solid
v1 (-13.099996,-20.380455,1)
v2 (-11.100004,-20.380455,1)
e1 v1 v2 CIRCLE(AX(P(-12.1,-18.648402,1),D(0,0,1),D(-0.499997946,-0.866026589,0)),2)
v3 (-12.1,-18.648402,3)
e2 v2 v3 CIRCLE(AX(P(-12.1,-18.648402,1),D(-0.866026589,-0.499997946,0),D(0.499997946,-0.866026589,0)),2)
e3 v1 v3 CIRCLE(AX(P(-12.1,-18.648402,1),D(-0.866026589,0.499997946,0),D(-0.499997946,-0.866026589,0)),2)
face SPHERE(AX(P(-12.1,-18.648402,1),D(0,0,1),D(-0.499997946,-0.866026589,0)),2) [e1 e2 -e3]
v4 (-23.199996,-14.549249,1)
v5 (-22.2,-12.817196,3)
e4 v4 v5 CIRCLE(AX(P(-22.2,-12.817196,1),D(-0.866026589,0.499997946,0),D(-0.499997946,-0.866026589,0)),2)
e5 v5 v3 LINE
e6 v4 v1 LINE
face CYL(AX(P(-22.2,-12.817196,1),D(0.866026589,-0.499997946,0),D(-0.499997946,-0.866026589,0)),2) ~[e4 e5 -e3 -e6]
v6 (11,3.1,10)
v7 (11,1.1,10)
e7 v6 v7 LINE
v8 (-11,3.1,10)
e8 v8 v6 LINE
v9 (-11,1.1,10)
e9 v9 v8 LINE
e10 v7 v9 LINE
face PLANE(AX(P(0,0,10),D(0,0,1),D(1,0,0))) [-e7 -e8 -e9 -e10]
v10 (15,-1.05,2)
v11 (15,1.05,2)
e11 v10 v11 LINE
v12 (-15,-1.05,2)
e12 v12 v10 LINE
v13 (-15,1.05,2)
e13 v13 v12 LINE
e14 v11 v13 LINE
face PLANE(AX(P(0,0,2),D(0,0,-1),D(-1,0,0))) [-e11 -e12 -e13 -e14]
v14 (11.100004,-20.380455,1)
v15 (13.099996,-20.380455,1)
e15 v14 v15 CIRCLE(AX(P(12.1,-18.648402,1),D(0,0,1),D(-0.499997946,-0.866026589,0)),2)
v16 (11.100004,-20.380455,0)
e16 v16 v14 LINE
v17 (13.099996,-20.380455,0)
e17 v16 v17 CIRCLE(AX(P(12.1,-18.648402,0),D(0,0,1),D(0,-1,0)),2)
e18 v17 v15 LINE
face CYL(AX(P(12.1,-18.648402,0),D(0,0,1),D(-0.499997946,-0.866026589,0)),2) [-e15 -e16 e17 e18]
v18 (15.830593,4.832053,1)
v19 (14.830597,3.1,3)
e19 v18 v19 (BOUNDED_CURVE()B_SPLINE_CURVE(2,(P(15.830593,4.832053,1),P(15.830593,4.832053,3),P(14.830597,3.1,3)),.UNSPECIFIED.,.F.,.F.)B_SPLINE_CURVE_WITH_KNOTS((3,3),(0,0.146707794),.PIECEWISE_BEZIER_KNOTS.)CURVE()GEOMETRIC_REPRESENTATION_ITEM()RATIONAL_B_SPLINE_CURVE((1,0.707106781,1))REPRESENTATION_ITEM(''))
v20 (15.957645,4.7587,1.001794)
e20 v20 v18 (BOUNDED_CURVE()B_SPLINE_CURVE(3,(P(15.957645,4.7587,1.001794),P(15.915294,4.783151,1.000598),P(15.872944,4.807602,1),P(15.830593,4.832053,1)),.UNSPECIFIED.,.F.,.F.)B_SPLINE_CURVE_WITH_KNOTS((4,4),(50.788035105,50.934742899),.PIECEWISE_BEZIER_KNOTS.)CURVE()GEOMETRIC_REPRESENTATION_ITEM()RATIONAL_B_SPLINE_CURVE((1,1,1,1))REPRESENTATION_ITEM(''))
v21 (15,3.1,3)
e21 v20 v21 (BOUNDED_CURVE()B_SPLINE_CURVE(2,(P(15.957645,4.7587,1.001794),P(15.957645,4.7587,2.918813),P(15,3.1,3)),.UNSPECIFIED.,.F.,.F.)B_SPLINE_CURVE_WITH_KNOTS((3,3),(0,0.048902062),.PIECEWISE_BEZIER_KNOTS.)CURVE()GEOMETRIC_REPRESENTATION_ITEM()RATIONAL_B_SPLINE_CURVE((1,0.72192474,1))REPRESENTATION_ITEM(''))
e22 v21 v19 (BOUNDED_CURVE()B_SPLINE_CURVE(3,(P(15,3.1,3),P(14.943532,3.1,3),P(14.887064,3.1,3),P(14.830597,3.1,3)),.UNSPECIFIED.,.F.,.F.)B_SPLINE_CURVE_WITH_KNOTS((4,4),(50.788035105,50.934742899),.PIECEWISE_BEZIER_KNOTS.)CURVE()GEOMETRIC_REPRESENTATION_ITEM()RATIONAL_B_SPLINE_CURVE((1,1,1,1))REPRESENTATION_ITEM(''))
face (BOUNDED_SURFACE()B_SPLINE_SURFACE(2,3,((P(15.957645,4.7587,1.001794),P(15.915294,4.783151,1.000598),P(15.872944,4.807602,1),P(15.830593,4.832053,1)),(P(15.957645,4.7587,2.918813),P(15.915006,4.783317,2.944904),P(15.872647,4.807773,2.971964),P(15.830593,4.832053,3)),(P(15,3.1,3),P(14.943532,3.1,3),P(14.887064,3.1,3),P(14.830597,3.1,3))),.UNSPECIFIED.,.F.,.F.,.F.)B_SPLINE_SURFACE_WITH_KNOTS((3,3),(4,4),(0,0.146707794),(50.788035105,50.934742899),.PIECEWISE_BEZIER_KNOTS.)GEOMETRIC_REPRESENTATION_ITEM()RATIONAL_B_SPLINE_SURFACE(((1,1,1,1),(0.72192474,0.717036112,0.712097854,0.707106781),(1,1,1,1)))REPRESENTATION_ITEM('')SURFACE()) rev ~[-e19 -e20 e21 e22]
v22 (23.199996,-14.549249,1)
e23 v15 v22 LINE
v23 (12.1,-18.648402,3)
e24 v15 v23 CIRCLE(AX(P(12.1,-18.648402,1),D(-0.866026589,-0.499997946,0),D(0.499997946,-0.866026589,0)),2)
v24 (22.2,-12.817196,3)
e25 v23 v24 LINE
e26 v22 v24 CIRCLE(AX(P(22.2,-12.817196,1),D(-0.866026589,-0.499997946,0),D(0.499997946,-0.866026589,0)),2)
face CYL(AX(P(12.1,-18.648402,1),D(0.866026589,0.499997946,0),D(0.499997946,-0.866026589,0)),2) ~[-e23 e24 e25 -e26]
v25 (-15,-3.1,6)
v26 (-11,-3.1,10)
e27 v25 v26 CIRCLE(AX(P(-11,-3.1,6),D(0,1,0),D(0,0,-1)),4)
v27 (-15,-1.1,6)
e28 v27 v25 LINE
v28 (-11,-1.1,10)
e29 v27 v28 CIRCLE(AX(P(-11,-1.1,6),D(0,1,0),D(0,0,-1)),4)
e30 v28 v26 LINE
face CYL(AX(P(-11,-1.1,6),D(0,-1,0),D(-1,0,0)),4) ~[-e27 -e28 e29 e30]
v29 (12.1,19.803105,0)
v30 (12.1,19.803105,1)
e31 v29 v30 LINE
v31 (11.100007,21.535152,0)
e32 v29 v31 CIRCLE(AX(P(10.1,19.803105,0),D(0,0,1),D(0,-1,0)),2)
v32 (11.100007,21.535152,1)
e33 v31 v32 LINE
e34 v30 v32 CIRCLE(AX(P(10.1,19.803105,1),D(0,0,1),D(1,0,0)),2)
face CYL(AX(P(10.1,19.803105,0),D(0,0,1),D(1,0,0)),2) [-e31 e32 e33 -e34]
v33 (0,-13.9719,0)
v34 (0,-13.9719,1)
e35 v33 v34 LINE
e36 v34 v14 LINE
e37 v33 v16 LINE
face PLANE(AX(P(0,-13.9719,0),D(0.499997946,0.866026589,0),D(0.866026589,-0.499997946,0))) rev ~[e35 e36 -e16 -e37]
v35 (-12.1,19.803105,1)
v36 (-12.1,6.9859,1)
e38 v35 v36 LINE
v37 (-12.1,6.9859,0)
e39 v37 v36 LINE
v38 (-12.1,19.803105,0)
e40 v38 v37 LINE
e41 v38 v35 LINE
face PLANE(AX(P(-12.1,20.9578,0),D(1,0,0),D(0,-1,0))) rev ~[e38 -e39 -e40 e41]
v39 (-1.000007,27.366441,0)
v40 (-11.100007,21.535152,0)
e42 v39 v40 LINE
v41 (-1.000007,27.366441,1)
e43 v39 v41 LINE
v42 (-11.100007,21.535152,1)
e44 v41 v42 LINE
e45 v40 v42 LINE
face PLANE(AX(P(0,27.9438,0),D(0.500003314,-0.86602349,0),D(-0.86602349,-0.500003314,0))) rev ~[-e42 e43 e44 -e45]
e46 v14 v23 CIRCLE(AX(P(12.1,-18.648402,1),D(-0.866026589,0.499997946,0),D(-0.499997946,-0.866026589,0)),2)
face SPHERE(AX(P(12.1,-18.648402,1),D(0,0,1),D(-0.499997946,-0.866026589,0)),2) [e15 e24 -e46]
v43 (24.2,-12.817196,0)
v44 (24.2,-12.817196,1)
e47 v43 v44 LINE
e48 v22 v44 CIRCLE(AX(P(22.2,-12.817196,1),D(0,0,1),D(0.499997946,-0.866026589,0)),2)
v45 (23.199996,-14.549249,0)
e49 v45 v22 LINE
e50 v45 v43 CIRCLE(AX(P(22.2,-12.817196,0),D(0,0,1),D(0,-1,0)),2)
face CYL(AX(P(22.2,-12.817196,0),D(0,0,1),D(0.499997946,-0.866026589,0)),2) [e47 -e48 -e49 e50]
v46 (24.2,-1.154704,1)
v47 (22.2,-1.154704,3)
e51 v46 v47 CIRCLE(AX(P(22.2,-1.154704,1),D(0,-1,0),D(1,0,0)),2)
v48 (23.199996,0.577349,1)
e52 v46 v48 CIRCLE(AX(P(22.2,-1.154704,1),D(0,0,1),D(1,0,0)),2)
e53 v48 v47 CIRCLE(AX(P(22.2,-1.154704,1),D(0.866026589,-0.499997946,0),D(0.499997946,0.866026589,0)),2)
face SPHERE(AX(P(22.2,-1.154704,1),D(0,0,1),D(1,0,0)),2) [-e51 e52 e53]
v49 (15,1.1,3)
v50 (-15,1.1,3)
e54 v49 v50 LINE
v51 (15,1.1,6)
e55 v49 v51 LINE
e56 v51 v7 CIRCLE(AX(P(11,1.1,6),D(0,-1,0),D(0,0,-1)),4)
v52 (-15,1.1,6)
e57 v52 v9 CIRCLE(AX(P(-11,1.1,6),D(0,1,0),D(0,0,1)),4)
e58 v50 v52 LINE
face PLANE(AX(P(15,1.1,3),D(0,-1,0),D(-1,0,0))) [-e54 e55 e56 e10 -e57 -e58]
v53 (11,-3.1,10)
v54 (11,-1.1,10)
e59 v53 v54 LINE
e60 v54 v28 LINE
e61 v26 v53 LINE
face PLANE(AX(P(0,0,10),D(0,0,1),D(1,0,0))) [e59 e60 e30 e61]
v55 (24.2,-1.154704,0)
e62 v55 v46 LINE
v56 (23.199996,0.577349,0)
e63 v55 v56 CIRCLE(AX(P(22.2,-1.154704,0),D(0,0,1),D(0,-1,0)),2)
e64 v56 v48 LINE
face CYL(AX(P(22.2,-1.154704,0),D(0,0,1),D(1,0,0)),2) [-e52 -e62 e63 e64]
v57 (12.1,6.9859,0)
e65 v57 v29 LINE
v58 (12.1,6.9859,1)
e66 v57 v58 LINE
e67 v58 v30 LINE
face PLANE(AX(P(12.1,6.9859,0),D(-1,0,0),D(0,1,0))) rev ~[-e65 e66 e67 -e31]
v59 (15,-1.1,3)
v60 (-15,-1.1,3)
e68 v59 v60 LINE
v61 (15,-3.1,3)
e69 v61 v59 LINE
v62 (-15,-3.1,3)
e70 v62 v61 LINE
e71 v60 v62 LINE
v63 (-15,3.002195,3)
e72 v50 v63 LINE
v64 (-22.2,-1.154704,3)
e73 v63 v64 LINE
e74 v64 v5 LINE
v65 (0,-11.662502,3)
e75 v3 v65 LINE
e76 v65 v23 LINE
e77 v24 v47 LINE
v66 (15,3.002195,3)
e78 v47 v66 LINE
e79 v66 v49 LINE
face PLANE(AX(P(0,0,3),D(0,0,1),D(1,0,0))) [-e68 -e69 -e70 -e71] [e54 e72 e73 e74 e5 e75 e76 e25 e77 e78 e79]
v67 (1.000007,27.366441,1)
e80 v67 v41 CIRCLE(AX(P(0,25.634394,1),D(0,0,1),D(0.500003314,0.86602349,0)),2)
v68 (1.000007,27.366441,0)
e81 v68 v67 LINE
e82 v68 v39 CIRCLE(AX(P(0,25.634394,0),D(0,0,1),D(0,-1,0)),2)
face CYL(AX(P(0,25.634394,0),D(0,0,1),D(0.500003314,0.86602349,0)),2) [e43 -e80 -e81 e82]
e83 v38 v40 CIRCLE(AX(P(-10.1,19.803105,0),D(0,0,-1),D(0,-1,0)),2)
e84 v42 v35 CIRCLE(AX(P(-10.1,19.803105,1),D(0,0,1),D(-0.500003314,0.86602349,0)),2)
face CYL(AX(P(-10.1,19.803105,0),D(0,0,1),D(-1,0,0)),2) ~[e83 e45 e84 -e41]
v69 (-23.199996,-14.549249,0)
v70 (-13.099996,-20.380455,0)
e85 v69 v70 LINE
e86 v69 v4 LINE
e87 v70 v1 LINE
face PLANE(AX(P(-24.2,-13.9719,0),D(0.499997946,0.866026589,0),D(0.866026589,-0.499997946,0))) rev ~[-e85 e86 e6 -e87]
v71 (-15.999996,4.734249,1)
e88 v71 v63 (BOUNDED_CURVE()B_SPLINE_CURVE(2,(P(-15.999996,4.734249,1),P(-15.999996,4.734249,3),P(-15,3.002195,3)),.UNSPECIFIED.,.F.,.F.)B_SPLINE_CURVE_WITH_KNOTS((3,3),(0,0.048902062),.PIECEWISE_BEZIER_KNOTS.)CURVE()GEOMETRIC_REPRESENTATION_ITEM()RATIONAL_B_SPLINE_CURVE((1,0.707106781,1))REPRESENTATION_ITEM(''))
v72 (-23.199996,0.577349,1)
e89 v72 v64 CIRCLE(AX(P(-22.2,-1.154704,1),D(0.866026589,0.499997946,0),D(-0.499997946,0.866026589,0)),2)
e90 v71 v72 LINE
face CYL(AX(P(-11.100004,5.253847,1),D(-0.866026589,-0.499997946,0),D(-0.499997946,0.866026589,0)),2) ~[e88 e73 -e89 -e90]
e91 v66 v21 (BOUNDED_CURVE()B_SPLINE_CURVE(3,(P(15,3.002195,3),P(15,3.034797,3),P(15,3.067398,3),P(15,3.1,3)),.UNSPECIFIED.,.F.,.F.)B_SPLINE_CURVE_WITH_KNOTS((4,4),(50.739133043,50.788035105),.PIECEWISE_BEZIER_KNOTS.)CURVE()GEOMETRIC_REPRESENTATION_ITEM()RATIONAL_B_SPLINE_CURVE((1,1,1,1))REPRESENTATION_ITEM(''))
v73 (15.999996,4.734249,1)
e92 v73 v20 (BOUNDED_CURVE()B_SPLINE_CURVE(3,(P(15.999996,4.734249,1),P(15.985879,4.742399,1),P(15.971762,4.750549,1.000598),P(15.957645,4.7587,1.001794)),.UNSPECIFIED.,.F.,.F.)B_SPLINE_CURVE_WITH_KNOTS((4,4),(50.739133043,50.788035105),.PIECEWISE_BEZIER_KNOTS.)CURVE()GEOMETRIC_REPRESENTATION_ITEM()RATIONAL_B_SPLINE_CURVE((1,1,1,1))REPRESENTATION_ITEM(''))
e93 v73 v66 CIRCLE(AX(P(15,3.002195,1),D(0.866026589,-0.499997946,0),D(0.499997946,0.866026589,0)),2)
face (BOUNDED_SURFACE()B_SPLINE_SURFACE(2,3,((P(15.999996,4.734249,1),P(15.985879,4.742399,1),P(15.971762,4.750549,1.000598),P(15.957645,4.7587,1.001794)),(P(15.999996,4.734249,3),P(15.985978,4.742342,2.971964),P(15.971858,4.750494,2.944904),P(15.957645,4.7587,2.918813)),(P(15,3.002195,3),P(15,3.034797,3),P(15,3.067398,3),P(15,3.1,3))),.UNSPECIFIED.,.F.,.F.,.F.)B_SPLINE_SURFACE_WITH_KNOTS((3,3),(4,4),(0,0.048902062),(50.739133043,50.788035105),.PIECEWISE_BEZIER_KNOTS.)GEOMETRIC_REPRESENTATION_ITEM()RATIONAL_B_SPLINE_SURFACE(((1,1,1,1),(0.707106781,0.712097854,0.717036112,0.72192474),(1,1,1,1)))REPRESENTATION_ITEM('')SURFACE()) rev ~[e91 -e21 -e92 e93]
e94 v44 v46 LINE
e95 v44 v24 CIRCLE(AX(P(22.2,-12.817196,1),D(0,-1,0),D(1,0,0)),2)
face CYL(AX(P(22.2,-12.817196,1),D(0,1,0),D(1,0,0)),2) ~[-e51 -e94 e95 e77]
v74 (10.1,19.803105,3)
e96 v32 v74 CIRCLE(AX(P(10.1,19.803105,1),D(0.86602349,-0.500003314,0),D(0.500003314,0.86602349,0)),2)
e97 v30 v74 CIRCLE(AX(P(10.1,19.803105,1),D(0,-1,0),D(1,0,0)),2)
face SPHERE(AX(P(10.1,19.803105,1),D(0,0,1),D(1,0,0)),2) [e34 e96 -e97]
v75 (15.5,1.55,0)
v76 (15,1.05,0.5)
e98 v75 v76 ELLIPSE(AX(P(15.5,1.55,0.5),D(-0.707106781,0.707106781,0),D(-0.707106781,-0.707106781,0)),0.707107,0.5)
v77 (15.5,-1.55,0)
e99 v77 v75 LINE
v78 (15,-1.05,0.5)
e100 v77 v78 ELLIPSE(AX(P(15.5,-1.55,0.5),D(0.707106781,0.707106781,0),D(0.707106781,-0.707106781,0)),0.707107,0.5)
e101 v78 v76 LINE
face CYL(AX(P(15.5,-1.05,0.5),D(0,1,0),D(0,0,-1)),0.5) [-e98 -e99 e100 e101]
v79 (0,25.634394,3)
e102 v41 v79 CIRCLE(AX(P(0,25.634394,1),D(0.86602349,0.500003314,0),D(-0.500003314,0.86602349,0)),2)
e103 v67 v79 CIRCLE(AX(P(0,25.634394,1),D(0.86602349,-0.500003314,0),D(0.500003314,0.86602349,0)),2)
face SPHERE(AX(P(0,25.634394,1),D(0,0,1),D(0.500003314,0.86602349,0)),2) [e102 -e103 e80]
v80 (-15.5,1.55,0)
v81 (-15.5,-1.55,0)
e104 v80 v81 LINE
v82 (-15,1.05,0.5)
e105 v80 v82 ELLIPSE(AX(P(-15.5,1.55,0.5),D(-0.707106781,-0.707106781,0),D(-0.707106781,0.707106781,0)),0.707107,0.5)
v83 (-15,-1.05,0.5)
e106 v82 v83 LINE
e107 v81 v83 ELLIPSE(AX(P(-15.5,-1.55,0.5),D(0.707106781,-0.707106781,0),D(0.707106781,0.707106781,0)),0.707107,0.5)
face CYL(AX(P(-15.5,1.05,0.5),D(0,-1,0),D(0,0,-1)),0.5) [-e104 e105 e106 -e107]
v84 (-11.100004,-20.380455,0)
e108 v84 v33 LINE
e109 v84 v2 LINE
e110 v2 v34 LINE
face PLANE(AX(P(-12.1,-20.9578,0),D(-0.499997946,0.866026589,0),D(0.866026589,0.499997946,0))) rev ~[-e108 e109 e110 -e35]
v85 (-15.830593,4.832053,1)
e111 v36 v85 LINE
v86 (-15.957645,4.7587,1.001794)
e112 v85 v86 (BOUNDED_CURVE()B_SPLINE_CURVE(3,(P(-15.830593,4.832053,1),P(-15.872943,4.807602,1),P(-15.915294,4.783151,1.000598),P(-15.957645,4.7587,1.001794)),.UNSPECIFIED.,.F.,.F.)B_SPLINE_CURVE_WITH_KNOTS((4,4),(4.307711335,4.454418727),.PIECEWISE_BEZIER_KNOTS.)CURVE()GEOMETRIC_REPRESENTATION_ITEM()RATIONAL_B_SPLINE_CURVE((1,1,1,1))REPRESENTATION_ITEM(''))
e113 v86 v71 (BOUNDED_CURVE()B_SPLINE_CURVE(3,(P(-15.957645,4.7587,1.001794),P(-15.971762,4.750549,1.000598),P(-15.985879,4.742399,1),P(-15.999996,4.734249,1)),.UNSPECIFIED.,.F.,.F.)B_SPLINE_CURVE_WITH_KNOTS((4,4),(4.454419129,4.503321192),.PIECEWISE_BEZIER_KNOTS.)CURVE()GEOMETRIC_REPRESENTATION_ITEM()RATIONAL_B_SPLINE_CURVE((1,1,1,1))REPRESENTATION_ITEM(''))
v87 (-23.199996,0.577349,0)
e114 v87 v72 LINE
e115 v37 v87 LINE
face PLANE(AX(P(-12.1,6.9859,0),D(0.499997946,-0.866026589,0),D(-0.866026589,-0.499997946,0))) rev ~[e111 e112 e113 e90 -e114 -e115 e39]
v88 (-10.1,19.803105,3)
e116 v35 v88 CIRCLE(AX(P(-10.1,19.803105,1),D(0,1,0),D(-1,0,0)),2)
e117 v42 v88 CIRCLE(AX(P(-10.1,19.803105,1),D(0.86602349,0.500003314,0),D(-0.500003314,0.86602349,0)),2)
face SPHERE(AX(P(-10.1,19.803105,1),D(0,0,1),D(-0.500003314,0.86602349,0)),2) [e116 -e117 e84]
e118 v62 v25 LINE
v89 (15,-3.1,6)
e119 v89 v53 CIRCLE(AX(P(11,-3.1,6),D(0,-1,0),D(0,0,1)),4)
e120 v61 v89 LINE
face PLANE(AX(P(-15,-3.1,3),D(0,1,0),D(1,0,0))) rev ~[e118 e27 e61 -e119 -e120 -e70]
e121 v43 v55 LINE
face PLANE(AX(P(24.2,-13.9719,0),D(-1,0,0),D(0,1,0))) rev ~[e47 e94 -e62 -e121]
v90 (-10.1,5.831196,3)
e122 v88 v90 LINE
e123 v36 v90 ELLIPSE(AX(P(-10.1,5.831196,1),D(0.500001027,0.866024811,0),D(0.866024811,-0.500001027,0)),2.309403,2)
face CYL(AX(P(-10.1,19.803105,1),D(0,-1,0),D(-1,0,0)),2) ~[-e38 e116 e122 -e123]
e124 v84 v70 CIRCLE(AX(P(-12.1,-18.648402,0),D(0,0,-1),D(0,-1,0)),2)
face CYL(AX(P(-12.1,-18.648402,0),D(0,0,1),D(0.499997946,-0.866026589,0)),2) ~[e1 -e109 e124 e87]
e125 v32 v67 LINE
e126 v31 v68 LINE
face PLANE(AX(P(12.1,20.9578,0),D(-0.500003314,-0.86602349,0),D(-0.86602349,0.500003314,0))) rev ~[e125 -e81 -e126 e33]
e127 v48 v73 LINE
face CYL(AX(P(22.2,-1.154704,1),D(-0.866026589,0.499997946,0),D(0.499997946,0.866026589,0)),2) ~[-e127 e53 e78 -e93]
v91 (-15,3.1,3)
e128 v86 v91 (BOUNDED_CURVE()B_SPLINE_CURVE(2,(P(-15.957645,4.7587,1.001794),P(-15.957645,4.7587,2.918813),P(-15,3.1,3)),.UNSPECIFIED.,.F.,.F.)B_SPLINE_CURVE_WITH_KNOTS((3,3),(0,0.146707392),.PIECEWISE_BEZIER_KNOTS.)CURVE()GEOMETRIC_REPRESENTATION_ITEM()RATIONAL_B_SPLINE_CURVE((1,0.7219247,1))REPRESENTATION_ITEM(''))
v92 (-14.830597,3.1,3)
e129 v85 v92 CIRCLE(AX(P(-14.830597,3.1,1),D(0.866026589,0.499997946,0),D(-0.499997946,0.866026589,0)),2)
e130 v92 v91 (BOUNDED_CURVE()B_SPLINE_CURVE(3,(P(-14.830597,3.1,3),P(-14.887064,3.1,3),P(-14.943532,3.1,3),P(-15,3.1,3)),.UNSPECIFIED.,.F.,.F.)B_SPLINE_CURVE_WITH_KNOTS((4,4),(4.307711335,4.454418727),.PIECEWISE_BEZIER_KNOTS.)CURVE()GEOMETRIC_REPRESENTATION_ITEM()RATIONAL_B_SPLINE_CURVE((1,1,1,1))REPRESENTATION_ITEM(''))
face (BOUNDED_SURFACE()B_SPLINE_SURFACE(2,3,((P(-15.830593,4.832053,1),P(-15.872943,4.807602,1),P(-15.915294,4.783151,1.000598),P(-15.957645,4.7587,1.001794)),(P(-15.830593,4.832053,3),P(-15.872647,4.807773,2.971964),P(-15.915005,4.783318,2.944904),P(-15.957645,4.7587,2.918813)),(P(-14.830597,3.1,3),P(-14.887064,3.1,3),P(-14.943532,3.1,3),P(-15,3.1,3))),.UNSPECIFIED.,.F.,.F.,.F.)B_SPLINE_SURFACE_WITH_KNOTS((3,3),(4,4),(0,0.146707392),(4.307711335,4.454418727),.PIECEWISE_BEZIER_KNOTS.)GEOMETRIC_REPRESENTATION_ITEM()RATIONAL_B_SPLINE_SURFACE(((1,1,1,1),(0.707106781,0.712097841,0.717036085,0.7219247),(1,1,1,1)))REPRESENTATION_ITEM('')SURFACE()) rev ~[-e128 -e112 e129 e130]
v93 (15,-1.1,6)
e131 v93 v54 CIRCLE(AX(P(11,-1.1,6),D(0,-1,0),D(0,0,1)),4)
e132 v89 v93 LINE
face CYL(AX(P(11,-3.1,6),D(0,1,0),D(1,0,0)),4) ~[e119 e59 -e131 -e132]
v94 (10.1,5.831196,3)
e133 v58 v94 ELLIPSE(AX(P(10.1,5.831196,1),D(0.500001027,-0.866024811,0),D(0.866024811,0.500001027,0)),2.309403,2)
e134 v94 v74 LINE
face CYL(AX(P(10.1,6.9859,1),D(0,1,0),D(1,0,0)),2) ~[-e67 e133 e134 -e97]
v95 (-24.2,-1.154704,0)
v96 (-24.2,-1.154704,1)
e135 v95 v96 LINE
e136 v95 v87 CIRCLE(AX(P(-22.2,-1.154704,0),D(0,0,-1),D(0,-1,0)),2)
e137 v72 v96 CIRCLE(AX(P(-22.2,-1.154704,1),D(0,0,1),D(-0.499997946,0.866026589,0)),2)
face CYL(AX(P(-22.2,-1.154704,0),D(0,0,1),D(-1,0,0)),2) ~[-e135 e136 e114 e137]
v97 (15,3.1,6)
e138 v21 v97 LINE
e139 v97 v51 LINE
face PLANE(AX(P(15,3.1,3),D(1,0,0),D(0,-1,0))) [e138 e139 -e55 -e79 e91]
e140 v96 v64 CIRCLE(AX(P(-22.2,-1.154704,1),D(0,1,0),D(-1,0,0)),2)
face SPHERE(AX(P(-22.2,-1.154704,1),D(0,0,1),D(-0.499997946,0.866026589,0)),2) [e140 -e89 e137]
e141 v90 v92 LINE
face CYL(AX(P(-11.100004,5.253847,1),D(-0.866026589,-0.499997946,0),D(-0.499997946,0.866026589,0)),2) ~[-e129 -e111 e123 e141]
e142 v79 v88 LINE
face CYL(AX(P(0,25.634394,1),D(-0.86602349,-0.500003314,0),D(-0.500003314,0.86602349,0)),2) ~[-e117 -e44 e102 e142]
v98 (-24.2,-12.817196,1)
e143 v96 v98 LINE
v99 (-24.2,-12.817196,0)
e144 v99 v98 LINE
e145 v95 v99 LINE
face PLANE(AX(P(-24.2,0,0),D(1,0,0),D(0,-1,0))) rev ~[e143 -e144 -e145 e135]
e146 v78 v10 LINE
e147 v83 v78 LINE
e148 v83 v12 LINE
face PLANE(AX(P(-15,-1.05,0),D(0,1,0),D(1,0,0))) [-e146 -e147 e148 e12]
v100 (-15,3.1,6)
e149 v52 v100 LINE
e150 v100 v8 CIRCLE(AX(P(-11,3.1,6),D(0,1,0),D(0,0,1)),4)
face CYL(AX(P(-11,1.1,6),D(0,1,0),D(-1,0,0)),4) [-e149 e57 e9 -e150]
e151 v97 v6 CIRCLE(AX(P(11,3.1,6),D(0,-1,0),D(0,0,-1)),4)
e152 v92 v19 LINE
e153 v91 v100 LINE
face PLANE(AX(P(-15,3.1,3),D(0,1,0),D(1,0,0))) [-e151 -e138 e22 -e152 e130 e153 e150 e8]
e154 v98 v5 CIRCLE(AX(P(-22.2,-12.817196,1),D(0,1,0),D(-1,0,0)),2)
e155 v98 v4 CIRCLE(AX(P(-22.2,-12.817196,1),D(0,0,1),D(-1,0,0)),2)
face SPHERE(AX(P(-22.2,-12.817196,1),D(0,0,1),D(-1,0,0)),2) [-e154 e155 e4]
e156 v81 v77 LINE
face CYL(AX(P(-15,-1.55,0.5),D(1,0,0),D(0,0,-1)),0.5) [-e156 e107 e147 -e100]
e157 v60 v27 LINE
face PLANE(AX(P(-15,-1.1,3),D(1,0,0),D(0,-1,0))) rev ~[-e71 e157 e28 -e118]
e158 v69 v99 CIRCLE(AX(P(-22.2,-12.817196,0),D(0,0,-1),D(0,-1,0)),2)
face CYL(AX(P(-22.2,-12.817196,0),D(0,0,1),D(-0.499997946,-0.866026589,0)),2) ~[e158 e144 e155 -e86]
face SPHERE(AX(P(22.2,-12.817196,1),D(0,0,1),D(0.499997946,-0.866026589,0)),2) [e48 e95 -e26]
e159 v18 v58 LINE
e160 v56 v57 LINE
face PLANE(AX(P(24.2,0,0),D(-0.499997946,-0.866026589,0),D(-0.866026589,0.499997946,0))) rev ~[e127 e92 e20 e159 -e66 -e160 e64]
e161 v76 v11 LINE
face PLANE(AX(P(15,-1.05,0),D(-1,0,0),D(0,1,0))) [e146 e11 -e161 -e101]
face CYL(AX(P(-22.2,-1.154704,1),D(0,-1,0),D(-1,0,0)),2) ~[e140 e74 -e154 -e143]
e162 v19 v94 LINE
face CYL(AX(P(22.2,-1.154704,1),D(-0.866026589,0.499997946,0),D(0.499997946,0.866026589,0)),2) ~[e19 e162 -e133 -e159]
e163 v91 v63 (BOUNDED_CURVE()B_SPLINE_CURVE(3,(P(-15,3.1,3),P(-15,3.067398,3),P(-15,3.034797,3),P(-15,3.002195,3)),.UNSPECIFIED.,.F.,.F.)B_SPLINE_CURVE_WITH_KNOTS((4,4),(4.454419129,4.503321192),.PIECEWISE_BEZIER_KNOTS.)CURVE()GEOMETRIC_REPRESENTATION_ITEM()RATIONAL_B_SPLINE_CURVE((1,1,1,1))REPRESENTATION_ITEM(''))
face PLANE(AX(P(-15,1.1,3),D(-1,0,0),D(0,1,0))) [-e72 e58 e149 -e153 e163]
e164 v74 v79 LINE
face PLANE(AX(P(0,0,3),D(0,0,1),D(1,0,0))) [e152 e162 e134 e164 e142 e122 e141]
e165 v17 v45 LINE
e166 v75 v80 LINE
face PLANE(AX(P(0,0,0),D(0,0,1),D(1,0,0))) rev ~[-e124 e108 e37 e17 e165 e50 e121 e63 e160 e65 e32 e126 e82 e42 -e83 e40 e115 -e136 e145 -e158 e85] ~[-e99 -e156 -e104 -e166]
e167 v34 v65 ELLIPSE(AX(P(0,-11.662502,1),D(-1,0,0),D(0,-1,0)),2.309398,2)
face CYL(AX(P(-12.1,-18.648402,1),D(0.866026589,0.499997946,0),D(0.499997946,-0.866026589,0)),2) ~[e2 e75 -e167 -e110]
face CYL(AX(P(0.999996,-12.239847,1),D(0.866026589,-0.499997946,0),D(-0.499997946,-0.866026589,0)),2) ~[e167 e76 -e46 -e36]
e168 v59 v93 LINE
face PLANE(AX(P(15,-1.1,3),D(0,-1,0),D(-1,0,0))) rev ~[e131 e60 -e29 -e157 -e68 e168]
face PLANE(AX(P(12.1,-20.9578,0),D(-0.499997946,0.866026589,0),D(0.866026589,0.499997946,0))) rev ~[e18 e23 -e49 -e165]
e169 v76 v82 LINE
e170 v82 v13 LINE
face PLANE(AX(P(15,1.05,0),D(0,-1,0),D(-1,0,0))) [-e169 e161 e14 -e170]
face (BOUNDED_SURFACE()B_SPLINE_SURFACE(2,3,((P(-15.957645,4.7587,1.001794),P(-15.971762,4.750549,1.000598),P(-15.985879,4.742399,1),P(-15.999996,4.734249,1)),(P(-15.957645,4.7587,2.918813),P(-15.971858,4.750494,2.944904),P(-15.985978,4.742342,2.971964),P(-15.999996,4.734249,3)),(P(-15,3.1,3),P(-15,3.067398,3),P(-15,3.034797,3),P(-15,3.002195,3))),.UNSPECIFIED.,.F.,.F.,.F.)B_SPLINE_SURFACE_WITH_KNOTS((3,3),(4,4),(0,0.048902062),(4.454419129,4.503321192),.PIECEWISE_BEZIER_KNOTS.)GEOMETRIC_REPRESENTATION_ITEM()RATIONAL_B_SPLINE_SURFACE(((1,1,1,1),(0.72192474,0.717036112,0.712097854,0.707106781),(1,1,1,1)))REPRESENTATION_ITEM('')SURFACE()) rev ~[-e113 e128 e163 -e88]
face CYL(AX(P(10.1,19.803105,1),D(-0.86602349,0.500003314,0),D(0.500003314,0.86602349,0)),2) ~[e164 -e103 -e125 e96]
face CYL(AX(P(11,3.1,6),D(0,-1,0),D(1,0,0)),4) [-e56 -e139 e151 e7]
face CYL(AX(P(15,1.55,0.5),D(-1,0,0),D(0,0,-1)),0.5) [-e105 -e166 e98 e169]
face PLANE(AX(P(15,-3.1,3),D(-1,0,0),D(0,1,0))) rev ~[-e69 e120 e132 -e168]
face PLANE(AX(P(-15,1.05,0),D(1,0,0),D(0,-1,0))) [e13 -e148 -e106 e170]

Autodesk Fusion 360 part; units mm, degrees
sketch "Sketch1" plane through (0, 0, 0) normal (0, 0, 1) x (1, 0, 0)
  line L0 (0, 0) -> (-12.1, 6.9859) construction
  line L1 (0, 0) -> (0, -13.9719) construction
  line L2 (0, 0) -> (12.1, 6.9859) construction
  line L3 (12.1, -20.9578) -> (24.2, -13.9719)
  line L4 (24.2, -13.9719) -> (24.2, 0)
  line L5 (24.2, 0) -> (12.1, 6.9859)
  line L6 (12.1, 6.9859) -> (0, 0)
  line L7 (0, 0) -> (0, -13.9719)
  line L8 (0, -13.9719) -> (12.1, -20.9578)
  line L9 (12.1, 6.9859) -> (12.1, 20.9578)
  line L10 (12.1, 20.9578) -> (0, 27.9438)
  line L11 (0, 27.9438) -> (-12.1, 20.9578)
  line L12 (-12.1, 20.9578) -> (-12.1, 6.9859)
  line L13 (-12.1, 6.9859) -> (0, 0)
  line L14 (0, 0) -> (12.1, 6.9859) construction
  line L15 (0, -13.9719) -> (0, 0) construction
  line L16 (0, 0) -> (-12.1, 6.9859)
  line L17 (-12.1, 6.9859) -> (-24.2, 0)
  line L18 (-24.2, 0) -> (-24.2, -13.9719)
  line L19 (-24.2, -13.9719) -> (-12.1, -20.9578)
  line L20 (-12.1, -20.9578) -> (0, -13.9719)
  point P0 (12.1, -6.9859)
  point P1 (0, 13.9719)
  point P2 (-12.1, -6.9859)
  dimension "d3" = 120
  dimension "d4" = 120
  dimension "d5" = 12.1
  dimension "d6" = 12.1
  dimension "d7" = 12.1
extrude "Extrude1" add sketch "Sketch1" along normal blind 3
sketch "Sketch2" plane through (0, 0, 3) normal (0, 0, 1) x (1, 0, 0)
  line L0 (-12.1, -20.9578) -> (0, -13.9719)
  line L1 (0, -13.9719) -> (12.1, -20.9578)
  line L2 (12.1, -20.9578) -> (24.2, -13.9719)
  line L3 (24.2, -13.9719) -> (24.2, 0)
  line L4 (24.2, 0) -> (12.1, 6.9859)
  line L5 (12.1, 6.9859) -> (12.1, 20.9578)
  line L6 (12.1, 20.9578) -> (0, 27.9438)
  line L7 (0, 27.9438) -> (-12.1, 20.9578)
  line L8 (-12.1, 20.9578) -> (-12.1, 6.9859)
  line L9 (-12.1, 6.9859) -> (-24.2, 0)
  line L10 (-24.2, 0) -> (-24.2, -13.9719)
  line L11 (-24.2, -13.9719) -> (-12.1, -20.9578)
  line L12 (15, 1.1) -> (-15, 1.1)
  line L13 (-15, 1.1) -> (-15, 3.1)
  line L14 (-15, 3.1) -> (15, 3.1)
  line L15 (15, 3.1) -> (15, 1.1)
  line L16 (15, -1.1) -> (-15, -1.1)
  line L17 (-15, -1.1) -> (-15, -3.1)
  line L18 (-15, -3.1) -> (15, -3.1)
  line L19 (15, -3.1) -> (15, -1.1)
  line L20 (24.2, -13.9719) -> (-12.1, 6.9859) construction
  line L21 (-24.2, -13.9719) -> (12.1, 6.9859) construction
  line L22 (0, 27.9438) -> (0, -13.9719) construction
  line L23 (24.2, -13.9719) -> (24.2, 0)
  line L24 (24.2, 0) -> (-24.2, 0) construction
  dimension "d10" = 30
  dimension "d11" = 2
  dimension "d16" = 2.2
extrude "Extrude2" add sketch "Sketch2" along normal blind 7 contours L12 L13 L14 L15 | L16 L17 L18 L19
sketch "Sketch3" plane through (0, 0, 0) normal (0, 0, -1) x (-1, 0, 0)
  line L0 (0, -13.9719) -> (12.1, -20.9578)
  line L1 (12.1, -20.9578) -> (24.2, -13.9719)
  line L2 (24.2, -13.9719) -> (24.2, 0)
  line L3 (24.2, 0) -> (12.1, 6.9859)
  line L4 (12.1, 6.9859) -> (12.1, 20.9578)
  line L5 (12.1, 20.9578) -> (0, 27.9438)
  line L6 (0, 27.9438) -> (-12.1, 20.9578)
  line L7 (-12.1, 20.9578) -> (-12.1, 6.9859)
  line L8 (-12.1, 6.9859) -> (-24.2, 0)
  line L9 (-24.2, 0) -> (-24.2, -13.9719)
  line L10 (-24.2, -13.9719) -> (-12.1, -20.9578)
  line L11 (-12.1, -20.9578) -> (0, -13.9719)
  line L12 (-15, 1.05) -> (15, 1.05)
  line L13 (15, 1.05) -> (15, -1.05)
  line L14 (15, -1.05) -> (-15, -1.05)
  line L15 (-15, -1.05) -> (-15, 1.05)
  line L16 (-15, 0) -> (15, 0) construction
  line L17 (0, -1.05) -> (0, 1.05) construction
  dimension "d19" = 30
  dimension "d20" = 2.1
extrude "Extrude3" cut sketch "Sketch3" against normal blind 2 contours L12 L13 L14 L15
fillet "Fillet1" radius 4 4 edges at (15, 2.1, 10) (15, -2.1, 10) (-15, 2.1, 10) (-15, -2.1, 10)
fillet "Fillet2" radius 2 9 edges at (-12.1, -20.9578, 1.5) (12.1, -20.9578, 1.5) (24.2, -13.9719, 1.5) (24.2, 0, 1.5) (12.1, 20.9578, 1.5) (0, 27.9438, 1.5) (-12.1, 20.9578, 1.5) (-24.2, 0, 1.5) (-24.2, -13.9719, 1.5)
fillet "Fillet3" radius 0.5 4 edges at (0, -1.05, 0) (0, 1.05, 0) (-15, 0, 0) (15, 0, 0)
fillet "Fillet5" radius 2 21 edges at (12.1, 13.3945, 3) (11.8321, 20.8031, 3) (6.05, 24.4508, 3) (0, 27.6344, 3) (-6.05, 24.4508, 3) (-11.8321, 20.8031, 3) (-12.1, 13.3945, 3) (5.55, -17.1762, 3) (12.1, -20.6484, 3) (18.15, -17.4648, 3) (23.9321, -13.8172, 3) (24.2, -6.9859, 3) (23.9321, -0.1547, 3) (17.65, 3.7816, 3) (-17.65, 3.7816, 3) (-23.9321, -0.1547, 3) (-24.2, -6.9859, 3) (-23.9321, -13.8172, 3) (-18.15, -17.4648, 3) (-12.1, -20.6484, 3) (-5.55, -17.1762, 3)
